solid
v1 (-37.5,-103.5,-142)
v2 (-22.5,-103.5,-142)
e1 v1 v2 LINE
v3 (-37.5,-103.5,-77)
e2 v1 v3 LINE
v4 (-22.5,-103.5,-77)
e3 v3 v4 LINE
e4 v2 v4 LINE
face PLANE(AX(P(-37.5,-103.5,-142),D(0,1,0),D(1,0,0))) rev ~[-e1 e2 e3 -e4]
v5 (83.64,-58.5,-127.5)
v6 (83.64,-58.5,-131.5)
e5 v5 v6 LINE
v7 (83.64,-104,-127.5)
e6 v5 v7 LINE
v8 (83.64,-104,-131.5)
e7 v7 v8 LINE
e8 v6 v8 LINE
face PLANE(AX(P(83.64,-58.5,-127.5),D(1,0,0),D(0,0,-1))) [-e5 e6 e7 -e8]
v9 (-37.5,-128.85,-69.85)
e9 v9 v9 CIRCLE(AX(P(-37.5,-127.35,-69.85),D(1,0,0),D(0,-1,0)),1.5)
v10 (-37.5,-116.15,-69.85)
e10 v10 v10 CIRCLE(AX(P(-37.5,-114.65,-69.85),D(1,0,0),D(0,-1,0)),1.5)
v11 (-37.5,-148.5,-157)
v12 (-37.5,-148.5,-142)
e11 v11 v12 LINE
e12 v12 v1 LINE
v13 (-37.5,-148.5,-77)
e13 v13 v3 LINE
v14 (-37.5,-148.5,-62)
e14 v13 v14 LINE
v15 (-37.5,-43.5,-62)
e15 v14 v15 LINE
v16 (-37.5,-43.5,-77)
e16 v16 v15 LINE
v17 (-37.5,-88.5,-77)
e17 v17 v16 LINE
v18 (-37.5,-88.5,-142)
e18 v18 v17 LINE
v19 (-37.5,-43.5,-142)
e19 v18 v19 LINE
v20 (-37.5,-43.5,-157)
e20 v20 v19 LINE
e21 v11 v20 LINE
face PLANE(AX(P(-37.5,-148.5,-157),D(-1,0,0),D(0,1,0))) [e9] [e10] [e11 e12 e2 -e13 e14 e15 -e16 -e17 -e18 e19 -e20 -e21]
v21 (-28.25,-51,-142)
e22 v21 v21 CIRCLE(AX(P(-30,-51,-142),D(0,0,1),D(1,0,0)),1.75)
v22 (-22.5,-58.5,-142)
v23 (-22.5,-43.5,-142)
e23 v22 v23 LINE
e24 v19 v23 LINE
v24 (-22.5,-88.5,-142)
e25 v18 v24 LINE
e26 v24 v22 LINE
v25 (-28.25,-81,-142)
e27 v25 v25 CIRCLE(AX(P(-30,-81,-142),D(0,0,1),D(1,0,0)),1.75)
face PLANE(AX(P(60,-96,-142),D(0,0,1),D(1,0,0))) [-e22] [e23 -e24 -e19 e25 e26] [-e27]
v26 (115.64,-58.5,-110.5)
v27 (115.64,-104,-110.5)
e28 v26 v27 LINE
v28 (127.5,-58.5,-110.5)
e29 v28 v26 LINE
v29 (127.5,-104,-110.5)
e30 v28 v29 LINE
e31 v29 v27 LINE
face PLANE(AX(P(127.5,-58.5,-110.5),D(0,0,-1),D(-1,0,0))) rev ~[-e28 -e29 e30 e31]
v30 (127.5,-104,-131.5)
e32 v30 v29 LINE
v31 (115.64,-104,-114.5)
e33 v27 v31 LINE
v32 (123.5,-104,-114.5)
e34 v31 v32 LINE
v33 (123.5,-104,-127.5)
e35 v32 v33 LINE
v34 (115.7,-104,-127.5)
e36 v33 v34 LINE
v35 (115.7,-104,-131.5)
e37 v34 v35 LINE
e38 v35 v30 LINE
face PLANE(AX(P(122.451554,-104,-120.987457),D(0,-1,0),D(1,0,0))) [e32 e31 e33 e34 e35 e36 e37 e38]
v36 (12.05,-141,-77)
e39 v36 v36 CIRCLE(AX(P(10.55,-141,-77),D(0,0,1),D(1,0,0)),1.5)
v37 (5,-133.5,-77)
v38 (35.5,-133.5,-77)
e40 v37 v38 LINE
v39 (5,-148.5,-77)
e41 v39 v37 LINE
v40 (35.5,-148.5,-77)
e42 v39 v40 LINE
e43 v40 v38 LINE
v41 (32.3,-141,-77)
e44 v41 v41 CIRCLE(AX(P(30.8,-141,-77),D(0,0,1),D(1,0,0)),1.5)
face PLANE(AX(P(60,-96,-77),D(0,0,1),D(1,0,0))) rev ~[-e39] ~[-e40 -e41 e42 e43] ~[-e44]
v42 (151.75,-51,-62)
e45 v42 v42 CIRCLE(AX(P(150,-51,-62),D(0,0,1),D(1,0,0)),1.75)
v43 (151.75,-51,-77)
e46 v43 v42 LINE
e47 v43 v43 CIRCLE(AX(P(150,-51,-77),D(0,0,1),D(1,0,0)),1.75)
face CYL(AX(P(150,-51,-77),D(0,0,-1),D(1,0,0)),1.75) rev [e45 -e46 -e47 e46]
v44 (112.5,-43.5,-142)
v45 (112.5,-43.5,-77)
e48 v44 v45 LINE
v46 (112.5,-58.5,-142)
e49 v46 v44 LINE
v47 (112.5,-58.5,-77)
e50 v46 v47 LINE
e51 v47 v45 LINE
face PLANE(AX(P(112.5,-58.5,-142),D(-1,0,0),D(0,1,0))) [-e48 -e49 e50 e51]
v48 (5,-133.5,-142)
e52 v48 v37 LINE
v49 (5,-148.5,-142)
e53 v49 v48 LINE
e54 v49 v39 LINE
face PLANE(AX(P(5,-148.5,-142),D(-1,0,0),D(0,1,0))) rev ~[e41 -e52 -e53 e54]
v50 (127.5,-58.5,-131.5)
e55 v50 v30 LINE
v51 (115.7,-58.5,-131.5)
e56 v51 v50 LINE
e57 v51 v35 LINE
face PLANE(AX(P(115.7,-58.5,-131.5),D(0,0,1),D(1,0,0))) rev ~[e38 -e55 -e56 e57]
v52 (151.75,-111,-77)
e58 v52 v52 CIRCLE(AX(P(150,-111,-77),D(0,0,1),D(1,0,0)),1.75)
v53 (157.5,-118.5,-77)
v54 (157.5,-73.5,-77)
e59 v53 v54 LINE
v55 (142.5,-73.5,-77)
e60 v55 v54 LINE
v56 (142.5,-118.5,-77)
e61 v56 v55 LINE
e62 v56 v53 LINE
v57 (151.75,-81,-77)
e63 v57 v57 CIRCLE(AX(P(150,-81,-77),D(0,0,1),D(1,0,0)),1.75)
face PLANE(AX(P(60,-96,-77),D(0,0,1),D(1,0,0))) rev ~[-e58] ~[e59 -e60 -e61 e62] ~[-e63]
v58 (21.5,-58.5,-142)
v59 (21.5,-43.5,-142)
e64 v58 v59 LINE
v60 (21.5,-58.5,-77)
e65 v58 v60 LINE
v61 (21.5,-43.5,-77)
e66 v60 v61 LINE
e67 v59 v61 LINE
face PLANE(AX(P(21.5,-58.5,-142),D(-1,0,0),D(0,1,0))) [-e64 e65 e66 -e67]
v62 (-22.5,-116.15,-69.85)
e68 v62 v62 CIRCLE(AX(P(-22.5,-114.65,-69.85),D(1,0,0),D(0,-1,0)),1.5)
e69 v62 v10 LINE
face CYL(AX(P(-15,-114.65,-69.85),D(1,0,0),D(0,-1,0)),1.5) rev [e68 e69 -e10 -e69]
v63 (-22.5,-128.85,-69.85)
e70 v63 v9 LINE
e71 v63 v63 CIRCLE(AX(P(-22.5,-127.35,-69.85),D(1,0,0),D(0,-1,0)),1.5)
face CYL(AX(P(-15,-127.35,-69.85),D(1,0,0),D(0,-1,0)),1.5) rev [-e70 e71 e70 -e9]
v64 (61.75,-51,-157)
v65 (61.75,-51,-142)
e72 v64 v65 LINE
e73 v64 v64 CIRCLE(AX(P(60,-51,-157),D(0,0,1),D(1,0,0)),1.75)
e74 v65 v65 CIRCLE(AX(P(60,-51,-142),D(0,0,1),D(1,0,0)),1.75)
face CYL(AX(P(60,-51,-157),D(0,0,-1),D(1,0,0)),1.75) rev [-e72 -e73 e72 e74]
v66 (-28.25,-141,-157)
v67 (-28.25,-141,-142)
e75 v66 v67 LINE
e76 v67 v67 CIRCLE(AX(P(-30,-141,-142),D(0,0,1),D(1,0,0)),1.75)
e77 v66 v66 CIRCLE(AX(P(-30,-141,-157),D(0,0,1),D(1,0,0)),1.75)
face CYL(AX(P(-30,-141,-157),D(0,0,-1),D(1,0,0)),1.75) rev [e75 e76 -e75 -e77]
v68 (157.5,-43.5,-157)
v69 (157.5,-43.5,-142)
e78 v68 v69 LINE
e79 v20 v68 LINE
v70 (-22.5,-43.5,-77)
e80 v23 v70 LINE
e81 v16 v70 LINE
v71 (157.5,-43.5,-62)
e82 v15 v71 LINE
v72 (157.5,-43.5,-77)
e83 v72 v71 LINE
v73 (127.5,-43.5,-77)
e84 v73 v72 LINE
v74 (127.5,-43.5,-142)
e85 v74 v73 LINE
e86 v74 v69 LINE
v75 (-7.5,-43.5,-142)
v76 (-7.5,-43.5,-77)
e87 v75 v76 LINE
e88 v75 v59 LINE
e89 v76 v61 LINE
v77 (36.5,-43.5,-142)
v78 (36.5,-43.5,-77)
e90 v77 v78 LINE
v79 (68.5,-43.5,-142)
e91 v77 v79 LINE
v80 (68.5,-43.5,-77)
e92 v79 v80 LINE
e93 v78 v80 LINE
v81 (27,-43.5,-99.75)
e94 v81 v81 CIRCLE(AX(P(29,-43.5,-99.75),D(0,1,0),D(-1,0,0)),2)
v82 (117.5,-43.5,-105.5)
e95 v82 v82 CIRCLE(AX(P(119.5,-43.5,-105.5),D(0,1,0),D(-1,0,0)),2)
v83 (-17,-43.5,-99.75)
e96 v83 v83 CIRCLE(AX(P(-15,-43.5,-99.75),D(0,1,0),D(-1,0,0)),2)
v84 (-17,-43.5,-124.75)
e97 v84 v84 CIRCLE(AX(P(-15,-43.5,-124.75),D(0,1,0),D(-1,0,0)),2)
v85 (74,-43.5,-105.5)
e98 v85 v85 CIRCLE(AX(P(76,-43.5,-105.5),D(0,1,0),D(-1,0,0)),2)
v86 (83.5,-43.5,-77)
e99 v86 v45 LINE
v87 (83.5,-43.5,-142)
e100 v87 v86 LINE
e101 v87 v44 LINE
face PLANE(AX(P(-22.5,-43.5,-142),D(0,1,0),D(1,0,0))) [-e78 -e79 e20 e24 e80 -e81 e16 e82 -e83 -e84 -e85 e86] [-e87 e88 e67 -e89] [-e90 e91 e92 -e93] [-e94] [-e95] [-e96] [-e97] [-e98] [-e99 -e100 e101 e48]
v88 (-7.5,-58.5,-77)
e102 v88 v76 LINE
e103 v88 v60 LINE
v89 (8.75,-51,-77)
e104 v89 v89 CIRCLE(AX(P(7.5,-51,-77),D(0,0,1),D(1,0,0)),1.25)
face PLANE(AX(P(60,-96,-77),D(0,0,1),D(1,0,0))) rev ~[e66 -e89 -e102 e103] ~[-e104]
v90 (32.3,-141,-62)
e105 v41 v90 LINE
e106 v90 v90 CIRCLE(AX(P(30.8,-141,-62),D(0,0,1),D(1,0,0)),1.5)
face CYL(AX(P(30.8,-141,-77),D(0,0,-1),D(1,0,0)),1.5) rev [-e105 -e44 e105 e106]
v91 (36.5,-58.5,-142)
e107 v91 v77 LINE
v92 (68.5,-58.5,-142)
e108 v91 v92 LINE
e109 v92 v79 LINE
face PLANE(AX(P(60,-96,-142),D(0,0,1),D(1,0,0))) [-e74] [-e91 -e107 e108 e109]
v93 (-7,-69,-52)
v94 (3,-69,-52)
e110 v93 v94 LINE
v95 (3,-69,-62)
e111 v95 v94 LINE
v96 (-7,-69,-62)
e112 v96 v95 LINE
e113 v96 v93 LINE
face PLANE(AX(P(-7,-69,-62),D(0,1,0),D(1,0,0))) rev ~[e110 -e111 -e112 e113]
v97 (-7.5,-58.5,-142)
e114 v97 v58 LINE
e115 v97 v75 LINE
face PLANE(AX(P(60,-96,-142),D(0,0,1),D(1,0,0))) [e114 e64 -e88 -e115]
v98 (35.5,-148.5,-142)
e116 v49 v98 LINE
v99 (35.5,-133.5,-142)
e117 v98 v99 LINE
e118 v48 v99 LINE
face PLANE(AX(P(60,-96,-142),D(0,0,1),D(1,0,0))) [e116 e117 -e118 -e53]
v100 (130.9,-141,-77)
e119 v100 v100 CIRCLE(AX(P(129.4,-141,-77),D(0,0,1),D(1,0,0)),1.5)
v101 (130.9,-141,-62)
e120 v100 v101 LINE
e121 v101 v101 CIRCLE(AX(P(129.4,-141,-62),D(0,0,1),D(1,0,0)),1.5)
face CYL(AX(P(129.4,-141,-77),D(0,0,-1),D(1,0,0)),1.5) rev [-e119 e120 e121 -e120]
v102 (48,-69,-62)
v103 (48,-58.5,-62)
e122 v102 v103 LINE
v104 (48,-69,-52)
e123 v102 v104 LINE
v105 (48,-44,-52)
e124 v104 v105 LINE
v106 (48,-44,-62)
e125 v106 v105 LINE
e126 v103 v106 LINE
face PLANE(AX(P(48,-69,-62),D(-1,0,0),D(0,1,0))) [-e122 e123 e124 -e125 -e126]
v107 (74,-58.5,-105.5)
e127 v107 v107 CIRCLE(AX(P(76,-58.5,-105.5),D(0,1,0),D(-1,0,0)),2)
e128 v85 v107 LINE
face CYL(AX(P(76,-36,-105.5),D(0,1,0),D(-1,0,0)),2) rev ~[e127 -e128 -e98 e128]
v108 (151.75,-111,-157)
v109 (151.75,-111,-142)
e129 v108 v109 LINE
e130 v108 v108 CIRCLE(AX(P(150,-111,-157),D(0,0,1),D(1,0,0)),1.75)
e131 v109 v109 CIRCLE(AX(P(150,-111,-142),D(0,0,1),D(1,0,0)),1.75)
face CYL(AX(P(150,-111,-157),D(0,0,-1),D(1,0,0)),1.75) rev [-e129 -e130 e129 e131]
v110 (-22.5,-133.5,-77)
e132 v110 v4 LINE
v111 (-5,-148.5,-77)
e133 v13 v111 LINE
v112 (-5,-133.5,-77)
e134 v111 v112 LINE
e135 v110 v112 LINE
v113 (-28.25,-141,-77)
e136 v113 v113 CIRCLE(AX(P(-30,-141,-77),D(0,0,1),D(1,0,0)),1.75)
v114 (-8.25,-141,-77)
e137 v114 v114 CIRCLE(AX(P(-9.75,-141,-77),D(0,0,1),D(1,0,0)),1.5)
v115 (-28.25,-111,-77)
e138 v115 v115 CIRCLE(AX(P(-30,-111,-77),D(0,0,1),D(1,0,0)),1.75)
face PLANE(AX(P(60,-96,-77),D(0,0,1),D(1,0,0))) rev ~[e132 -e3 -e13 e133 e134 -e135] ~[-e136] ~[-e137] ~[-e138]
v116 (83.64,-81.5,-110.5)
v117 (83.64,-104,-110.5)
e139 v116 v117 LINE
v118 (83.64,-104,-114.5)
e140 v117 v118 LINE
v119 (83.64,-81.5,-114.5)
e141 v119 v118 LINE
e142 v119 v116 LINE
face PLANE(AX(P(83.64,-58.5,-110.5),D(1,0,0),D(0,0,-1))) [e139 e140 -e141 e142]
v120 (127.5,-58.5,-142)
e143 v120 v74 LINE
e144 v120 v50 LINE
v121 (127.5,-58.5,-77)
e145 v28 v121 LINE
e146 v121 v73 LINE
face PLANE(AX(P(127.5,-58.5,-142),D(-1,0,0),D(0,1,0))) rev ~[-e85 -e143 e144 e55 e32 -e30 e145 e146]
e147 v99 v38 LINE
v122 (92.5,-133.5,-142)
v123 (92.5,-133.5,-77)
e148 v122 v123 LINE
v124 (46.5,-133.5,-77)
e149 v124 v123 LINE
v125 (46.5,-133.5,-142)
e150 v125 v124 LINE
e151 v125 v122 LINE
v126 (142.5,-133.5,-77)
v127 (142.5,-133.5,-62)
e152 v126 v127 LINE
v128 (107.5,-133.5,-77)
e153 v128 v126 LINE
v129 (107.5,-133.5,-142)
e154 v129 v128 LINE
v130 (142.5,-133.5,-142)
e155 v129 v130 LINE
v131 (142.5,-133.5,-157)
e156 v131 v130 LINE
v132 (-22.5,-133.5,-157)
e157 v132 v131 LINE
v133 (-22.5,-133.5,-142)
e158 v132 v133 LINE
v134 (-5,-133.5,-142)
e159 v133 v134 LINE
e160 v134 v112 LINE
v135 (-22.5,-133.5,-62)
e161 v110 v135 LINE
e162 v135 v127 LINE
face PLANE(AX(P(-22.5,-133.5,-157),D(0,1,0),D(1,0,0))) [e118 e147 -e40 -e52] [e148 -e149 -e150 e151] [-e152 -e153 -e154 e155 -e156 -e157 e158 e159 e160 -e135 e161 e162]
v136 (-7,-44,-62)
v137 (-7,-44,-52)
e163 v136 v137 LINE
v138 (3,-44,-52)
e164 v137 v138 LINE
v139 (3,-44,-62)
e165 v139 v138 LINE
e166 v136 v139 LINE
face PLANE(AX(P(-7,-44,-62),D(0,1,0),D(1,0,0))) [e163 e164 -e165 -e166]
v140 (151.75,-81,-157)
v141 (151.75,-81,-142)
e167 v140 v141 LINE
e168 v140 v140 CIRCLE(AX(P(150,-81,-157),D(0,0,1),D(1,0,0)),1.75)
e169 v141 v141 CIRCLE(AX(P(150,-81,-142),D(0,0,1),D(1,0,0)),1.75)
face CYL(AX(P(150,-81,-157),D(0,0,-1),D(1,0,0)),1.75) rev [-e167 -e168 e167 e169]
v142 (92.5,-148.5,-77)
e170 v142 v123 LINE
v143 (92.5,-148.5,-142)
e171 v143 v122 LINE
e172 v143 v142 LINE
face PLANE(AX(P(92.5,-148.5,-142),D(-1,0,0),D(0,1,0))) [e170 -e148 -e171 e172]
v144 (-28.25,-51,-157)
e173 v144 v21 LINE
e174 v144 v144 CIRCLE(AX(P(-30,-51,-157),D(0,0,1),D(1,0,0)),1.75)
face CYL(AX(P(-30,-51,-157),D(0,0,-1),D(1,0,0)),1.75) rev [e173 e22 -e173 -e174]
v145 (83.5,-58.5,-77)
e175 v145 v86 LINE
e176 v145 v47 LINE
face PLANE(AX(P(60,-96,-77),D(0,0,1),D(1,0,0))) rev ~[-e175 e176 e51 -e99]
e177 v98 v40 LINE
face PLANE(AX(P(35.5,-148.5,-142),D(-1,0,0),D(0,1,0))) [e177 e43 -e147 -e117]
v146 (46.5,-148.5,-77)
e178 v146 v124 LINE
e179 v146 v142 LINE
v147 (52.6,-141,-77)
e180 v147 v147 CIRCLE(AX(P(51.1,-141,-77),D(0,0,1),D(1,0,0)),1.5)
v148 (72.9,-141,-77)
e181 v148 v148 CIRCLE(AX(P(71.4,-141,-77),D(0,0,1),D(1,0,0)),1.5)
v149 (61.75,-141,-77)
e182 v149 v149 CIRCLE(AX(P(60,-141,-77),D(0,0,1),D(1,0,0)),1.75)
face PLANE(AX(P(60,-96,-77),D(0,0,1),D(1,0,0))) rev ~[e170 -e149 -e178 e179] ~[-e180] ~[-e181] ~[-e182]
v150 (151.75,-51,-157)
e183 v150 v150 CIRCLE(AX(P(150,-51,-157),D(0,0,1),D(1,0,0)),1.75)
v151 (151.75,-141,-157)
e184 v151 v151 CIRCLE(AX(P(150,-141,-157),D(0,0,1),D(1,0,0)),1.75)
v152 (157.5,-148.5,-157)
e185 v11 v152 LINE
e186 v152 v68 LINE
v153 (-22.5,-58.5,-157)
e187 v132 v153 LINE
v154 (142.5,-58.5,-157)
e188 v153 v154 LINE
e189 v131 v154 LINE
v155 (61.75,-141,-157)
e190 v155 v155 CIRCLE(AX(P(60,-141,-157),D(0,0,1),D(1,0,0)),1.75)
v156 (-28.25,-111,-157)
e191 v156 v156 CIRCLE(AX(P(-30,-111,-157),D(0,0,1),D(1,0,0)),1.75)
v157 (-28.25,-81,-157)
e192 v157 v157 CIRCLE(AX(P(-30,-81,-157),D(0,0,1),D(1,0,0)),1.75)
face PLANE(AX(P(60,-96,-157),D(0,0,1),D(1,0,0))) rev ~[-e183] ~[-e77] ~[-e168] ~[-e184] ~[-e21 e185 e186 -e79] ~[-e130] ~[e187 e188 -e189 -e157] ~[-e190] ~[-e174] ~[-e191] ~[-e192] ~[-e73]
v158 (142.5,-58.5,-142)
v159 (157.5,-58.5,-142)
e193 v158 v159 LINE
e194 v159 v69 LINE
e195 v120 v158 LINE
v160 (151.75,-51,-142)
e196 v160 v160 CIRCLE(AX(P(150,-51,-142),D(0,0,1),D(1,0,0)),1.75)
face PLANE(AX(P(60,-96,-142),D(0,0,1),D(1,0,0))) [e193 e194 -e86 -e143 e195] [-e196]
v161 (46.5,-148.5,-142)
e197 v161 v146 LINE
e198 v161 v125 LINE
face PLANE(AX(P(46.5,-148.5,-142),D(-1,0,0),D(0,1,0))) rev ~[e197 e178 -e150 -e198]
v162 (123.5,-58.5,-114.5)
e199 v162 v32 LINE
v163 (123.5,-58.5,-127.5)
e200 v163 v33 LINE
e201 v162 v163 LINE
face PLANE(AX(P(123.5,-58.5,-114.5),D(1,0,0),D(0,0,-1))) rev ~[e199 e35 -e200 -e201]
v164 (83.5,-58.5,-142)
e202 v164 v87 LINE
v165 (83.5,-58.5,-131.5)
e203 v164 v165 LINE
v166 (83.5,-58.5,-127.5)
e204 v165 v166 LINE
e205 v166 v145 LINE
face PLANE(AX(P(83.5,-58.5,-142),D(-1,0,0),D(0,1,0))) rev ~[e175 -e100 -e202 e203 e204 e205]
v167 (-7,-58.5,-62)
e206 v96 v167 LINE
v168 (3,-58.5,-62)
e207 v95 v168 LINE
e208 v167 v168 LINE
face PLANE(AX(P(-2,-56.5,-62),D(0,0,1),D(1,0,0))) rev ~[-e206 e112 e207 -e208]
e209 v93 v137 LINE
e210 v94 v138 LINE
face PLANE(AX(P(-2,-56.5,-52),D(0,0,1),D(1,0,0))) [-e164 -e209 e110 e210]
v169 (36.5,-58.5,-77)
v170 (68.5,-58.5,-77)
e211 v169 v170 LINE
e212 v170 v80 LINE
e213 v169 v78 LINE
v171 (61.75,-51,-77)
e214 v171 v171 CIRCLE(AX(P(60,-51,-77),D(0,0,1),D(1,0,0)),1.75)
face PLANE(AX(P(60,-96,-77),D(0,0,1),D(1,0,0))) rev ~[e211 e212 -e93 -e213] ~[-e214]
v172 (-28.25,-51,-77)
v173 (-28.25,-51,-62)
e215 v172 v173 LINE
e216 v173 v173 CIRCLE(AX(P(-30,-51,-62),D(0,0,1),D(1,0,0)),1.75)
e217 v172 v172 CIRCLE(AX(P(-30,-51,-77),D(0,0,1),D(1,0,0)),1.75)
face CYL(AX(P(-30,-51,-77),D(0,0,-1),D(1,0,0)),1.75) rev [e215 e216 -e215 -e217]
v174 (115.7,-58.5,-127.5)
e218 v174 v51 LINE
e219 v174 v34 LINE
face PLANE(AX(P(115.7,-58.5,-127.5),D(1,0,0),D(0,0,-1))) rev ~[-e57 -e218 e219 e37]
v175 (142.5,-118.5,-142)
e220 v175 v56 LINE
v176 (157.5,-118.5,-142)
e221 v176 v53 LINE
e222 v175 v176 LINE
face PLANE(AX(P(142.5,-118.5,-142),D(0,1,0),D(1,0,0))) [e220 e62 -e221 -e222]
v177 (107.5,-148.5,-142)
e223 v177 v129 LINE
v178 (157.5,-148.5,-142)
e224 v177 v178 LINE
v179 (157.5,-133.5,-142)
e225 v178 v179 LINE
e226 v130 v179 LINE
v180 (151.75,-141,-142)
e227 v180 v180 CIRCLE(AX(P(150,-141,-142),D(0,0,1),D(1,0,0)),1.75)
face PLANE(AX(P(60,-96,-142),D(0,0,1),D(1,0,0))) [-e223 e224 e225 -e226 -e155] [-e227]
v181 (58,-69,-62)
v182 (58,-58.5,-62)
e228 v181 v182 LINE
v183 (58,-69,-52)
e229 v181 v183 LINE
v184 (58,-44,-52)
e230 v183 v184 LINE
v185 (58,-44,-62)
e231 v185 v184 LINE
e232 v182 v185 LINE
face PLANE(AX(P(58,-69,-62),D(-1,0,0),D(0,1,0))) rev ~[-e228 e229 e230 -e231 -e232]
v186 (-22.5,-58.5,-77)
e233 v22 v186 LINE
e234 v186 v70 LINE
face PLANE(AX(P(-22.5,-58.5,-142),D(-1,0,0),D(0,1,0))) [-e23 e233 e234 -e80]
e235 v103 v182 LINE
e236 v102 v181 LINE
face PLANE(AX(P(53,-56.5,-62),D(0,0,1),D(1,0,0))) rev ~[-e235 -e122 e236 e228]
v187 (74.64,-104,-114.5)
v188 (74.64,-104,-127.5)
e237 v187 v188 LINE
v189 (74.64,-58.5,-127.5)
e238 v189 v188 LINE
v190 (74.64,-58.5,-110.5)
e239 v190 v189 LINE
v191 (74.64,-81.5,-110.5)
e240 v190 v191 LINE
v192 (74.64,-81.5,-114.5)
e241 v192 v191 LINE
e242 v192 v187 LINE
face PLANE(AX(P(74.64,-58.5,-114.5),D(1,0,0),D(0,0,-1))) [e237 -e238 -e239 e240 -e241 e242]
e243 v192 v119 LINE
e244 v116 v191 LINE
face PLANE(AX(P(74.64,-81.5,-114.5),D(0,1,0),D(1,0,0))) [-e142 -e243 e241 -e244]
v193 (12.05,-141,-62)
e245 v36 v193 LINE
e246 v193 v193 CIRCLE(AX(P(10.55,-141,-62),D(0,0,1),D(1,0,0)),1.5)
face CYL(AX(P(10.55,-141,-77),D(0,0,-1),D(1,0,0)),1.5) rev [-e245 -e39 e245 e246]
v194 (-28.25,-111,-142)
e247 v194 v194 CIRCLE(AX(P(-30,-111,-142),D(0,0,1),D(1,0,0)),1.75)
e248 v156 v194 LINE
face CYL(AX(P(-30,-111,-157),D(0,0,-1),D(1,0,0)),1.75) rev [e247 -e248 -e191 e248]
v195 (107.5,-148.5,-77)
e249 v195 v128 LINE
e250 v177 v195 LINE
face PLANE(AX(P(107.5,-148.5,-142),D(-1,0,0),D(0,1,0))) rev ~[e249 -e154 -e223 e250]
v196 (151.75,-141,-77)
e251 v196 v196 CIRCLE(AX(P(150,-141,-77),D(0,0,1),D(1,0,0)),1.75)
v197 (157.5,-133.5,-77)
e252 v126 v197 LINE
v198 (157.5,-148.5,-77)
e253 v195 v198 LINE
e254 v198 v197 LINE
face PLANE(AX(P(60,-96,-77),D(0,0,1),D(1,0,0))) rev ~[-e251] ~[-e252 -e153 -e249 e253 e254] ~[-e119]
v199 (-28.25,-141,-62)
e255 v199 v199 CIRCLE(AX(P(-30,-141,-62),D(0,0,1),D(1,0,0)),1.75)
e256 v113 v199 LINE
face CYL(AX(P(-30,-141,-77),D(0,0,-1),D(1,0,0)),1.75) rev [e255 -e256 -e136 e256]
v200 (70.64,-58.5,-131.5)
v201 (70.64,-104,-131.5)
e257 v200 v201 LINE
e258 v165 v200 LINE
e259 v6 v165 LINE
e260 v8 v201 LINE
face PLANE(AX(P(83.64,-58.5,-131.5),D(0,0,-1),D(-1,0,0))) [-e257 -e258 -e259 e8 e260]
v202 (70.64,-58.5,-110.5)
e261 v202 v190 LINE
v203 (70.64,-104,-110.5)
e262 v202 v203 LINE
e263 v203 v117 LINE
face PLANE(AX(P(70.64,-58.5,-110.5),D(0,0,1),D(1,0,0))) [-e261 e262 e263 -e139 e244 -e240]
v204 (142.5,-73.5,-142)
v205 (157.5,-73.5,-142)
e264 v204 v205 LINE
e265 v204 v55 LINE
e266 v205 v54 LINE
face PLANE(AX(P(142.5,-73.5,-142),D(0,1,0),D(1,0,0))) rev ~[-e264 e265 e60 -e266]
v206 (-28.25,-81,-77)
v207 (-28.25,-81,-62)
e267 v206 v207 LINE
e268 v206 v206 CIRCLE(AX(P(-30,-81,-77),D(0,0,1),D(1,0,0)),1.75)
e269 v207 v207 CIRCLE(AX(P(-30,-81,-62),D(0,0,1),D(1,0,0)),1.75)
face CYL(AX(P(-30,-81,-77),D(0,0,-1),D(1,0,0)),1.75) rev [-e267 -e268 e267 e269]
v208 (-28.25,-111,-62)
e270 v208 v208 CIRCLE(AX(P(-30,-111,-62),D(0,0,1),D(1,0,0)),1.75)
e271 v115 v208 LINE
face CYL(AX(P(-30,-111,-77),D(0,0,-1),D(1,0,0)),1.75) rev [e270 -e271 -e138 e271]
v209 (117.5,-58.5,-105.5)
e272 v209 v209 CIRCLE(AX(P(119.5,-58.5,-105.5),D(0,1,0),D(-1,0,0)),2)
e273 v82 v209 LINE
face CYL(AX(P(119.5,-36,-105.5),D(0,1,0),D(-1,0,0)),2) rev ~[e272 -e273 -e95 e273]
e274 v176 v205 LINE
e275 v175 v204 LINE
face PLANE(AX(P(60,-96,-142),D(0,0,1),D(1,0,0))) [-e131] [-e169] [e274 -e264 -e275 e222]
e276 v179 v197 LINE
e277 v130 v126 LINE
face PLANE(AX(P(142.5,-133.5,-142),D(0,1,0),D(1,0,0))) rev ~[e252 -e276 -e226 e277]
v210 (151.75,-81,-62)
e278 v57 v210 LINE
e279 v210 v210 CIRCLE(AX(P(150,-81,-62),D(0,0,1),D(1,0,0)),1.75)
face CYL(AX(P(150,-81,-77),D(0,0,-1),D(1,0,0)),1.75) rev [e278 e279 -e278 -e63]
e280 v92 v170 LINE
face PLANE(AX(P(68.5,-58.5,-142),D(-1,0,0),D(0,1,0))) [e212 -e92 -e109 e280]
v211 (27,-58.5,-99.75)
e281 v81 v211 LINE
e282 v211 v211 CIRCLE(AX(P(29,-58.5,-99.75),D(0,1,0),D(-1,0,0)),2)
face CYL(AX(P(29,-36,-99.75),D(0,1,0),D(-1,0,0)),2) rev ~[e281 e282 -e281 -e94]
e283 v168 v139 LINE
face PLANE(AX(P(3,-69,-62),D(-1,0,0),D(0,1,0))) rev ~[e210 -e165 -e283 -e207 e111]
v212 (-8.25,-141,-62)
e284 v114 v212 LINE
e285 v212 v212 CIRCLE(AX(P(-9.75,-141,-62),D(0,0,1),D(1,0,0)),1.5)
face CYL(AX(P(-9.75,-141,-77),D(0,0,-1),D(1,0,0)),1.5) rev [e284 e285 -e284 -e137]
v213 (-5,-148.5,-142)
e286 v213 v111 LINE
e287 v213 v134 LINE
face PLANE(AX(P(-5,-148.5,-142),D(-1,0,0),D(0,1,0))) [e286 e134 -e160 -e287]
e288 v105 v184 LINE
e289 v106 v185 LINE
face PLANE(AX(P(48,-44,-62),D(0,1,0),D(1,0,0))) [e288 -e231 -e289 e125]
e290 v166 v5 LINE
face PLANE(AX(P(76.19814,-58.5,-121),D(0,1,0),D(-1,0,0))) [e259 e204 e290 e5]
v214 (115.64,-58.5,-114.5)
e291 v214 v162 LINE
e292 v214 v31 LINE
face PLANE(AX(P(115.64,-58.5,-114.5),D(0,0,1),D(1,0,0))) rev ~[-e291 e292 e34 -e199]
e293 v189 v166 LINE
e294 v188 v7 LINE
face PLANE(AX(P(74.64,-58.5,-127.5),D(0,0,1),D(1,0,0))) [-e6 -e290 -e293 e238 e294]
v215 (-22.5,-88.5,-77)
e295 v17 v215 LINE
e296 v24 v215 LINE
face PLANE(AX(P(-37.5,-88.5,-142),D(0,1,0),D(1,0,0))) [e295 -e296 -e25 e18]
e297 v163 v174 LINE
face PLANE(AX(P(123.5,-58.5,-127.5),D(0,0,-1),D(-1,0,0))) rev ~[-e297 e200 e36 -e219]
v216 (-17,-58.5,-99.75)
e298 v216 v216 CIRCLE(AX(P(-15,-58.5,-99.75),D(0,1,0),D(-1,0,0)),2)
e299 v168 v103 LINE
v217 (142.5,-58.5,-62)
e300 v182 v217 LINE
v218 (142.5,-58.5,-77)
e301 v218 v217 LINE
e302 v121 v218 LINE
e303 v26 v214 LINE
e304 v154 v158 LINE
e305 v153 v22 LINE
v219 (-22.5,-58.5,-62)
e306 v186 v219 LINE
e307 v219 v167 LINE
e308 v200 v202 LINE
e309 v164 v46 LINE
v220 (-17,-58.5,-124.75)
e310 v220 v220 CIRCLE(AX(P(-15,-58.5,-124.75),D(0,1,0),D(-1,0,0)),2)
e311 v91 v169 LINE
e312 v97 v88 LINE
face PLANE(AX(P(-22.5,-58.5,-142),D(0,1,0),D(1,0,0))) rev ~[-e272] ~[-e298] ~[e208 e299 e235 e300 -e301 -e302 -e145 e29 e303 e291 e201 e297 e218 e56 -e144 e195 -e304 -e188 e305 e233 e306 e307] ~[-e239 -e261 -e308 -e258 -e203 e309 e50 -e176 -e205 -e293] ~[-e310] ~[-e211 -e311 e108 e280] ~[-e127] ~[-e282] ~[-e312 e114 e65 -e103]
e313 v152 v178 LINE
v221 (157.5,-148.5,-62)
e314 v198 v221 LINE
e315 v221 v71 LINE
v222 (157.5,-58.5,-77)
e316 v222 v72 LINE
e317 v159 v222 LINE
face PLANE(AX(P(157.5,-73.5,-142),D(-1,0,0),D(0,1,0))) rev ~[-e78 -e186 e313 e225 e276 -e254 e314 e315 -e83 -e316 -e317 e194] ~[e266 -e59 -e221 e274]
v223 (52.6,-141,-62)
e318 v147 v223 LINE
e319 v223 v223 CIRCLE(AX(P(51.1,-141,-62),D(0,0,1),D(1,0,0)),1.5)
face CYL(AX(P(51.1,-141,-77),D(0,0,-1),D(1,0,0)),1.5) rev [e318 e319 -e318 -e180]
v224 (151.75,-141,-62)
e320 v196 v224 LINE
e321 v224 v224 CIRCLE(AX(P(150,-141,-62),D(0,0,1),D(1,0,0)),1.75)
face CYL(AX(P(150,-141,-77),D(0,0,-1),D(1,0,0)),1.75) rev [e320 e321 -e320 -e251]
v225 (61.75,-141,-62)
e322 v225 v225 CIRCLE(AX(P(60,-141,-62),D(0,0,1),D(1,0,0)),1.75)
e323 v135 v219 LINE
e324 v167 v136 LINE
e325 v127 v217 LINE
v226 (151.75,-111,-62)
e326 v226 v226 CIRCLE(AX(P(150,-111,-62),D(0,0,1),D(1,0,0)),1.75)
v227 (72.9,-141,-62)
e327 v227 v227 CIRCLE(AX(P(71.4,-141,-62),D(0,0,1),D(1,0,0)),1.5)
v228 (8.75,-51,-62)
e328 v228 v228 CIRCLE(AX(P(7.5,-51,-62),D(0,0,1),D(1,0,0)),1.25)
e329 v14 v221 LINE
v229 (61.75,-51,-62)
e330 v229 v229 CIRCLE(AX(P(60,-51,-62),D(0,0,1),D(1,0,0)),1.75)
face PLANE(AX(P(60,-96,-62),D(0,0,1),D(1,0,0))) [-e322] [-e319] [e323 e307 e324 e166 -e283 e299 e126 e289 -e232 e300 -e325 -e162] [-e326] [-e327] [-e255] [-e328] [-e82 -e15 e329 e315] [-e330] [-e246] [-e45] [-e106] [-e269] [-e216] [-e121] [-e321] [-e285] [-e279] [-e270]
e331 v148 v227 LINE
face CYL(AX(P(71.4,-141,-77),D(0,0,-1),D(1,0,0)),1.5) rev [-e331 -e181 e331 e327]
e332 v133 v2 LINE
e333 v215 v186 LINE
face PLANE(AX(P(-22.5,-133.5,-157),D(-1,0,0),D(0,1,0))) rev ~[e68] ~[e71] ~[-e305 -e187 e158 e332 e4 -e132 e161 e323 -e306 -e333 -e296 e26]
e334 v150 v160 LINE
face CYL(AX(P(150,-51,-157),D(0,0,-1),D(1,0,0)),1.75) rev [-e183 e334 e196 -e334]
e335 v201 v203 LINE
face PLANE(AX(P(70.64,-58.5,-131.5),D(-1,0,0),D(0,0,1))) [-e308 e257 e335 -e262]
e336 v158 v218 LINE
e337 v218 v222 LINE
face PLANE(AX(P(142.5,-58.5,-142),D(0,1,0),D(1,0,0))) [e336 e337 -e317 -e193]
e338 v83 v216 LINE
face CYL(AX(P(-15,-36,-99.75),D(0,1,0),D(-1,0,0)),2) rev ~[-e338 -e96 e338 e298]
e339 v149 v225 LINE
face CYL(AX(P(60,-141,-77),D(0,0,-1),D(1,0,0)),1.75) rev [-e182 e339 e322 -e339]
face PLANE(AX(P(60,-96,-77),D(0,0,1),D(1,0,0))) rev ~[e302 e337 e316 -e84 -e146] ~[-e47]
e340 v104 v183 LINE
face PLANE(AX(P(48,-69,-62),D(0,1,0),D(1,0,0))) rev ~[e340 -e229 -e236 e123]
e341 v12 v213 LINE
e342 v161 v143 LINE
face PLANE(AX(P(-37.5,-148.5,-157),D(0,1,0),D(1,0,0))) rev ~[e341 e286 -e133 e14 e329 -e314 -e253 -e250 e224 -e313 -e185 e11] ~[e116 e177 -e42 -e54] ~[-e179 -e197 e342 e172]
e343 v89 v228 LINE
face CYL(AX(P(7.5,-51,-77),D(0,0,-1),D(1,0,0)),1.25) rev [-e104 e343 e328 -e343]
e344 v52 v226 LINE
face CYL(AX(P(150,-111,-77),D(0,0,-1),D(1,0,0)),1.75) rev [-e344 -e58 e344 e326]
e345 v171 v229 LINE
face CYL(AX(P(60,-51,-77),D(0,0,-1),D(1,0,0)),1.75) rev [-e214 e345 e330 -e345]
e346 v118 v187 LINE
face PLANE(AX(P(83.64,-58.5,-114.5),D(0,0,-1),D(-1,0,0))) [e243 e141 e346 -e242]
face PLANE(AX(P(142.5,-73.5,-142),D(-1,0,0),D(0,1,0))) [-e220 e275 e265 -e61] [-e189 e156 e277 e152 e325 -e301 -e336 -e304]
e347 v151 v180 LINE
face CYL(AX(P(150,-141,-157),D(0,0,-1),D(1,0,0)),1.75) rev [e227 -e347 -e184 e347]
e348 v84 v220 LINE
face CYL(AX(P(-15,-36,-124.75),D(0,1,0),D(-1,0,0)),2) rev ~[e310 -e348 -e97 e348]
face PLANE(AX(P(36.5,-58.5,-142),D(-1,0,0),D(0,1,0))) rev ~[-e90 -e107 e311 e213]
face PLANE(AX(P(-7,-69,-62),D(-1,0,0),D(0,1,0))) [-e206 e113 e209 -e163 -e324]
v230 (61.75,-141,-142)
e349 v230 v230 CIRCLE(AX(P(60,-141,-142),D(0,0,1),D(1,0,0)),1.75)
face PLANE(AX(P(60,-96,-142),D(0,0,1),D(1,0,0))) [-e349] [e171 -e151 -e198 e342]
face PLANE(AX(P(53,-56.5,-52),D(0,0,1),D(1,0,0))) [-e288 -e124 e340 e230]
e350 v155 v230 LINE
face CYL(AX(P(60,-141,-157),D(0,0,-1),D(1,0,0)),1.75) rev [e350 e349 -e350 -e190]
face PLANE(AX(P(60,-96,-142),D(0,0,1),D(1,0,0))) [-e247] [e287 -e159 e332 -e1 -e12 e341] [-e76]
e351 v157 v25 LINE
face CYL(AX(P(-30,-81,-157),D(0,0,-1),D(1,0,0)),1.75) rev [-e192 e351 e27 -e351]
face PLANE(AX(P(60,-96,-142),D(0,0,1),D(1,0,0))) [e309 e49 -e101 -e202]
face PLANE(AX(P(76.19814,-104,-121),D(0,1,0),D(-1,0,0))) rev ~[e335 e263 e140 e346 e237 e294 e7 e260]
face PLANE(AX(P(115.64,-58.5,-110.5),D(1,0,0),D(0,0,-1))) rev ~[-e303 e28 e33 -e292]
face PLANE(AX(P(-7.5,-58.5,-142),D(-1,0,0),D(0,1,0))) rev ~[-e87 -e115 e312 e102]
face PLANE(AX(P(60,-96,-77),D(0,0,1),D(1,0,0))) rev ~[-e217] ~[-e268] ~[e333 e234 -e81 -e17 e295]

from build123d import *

# Parameters (mm, degrees)
BOX229_W         = 10
BOX229_H         = 25
BOX229_DEPTH     = 10
BOX228_W         = 10
BOX228_H         = 25
BOX228_DEPTH     = 10
SKETCH009_W      = 195
SKETCH009_H      = 105
SKETCH009_R      = 1.75
SKETCH009_W_2    = 165
SKETCH009_H_2    = 75
EXTRUDE009_DEPTH = 15
BOX223_W         = 11
BOX223_H         = 15
BOX223_DEPTH     = 65
BOX224_W         = 15
BOX224_H         = 15
BOX224_DEPTH     = 65
BOX225_W         = 15
BOX225_H         = 15
BOX225_DEPTH     = 65
BOX226_W         = 15
BOX226_H         = 15
BOX226_DEPTH     = 65
BOX227_W         = 15
BOX227_H         = 15
BOX227_DEPTH     = 65
BOX222_W         = 10
BOX222_H         = 15
BOX222_DEPTH     = 65
SKETCH013_R      = 2
EXTRUDE013_DEPTH = 30
BOX217_W         = 15
BOX217_H         = 15
BOX217_DEPTH     = 65
BOX218_W         = 15
BOX218_H         = 15
BOX218_DEPTH     = 65
BOX220_W         = 15
BOX220_H         = 15
BOX220_DEPTH     = 65
BOX216_W         = 15
BOX216_H         = 15
BOX216_DEPTH     = 65
BOX221_W         = 10
BOX221_H         = 23
BOX221_DEPTH     = 10
EXTRUDE012_DEPTH = 45.5
SKETCH014_R      = 1.5
EXTRUDE014_DEPTH = 30
SKETCH010_W      = 195
SKETCH010_H      = 105
SKETCH010_R      = 1.75
SKETCH010_R_2    = 1.25
SKETCH010_R_3    = 1.5
SKETCH010_W_2    = 165
SKETCH010_H_2    = 75
EXTRUDE010_DEPTH = 15


with BuildPart() as cube229:
    # Box229 → Box229 (new body)
    with BuildSketch(Plane(origin=(48, -69, 0), x_dir=(1, 0, 0), z_dir=(0, 0, 1))):
        with Locations((5, 12.5)):
            Rectangle(BOX229_W, BOX229_H)
    extrude(amount=BOX229_DEPTH)


with BuildPart() as ips_hold:
    # Box228 → Box228 (new body)
    with BuildSketch(Plane(origin=(-7, -69, 0), x_dir=(1, 0, 0), z_dir=(0, 0, 1))):
        with Locations((5, 12.5)):
            Rectangle(BOX228_W, BOX228_H)
    extrude(amount=BOX228_DEPTH)

    # Fusion132: union Cube229
    add(cube229.part)


with BuildPart() as ips_hold_1:
    # Fusion132 placement: moved
    add(ips_hold.part.moved(Location((0, 0, -62))))


with BuildPart() as sensor_base:
    # Sketch009 → Extrude009 (new body)
    with BuildSketch(Plane.XY):
        with Locations((60, -96)):
            Rectangle(SKETCH009_W, SKETCH009_H)
        with Locations((-30, -51)):
            Circle(SKETCH009_R, mode=Mode.SUBTRACT)
        with Locations((-30, -81)):
            Circle(SKETCH009_R, mode=Mode.SUBTRACT)
        with Locations((-30, -111)):
            Circle(SKETCH009_R, mode=Mode.SUBTRACT)
        with Locations((-30, -141)):
            Circle(SKETCH009_R, mode=Mode.SUBTRACT)
        with Locations((60, -141)):
            Circle(SKETCH009_R, mode=Mode.SUBTRACT)
        with Locations((150, -141)):
            Circle(SKETCH009_R, mode=Mode.SUBTRACT)
        with Locations((150, -111)):
            Circle(SKETCH009_R, mode=Mode.SUBTRACT)
        with Locations((150, -81)):
            Circle(SKETCH009_R, mode=Mode.SUBTRACT)
        with Locations((150, -51)):
            Circle(SKETCH009_R, mode=Mode.SUBTRACT)
        with Locations((60, -51)):
            Circle(SKETCH009_R, mode=Mode.SUBTRACT)
        with Locations((60, -96)):
            Rectangle(SKETCH009_W_2, SKETCH009_H_2, mode=Mode.SUBTRACT)
    extrude(amount=EXTRUDE009_DEPTH)


with BuildPart() as sensor_base_1:
    # Extrude009 placement: moved
    add(sensor_base.part.moved(Location((0, 0, -157))))


with BuildPart() as cube223:
    # Box223 → Box223 (new body)
    with BuildSketch(Plane(origin=(36, 0, -142), x_dir=(1, 0, 0), z_dir=(0, 0, 1))):
        with Locations((5.5, 7.5)):
            Rectangle(BOX223_W, BOX223_H)
    extrude(amount=BOX223_DEPTH)


with BuildPart() as cube224:
    # Box224 → Box224 (new body)
    with BuildSketch(Plane(origin=(93, 0, -142), x_dir=(1, 0, 0), z_dir=(0, 0, 1))):
        with Locations((7.5, 7.5)):
            Rectangle(BOX224_W, BOX224_H)
    extrude(amount=BOX224_DEPTH)


with BuildPart() as cube225:
    # Box225 → Box225 (new body)
    with BuildSketch(Plane(origin=(143, 15, -142), x_dir=(1, 0, 0), z_dir=(0, 0, 1))):
        with Locations((7.5, 7.5)):
            Rectangle(BOX225_W, BOX225_H)
    extrude(amount=BOX225_DEPTH)


with BuildPart() as cube226:
    # Box226 → Box226 (new body)
    with BuildSketch(Plane(origin=(-37, 45, -142), x_dir=(1, 0, 0), z_dir=(0, 0, 1))):
        with Locations((7.5, 7.5)):
            Rectangle(BOX226_W, BOX226_H)
    extrude(amount=BOX226_DEPTH)


with BuildPart() as cube227:
    # Box227 → Box227 (new body)
    with BuildSketch(Plane(origin=(143, 75, -142), x_dir=(1, 0, 0), z_dir=(0, 0, 1))):
        with Locations((7.5, 7.5)):
            Rectangle(BOX227_W, BOX227_H)
    extrude(amount=BOX227_DEPTH)


with BuildPart() as vertical_back:
    # Box222 → Box222 (new body)
    with BuildSketch(Plane(origin=(-4.5, 0, -142), x_dir=(1, 0, 0), z_dir=(0, 0, 1))):
        with Locations((5, 7.5)):
            Rectangle(BOX222_W, BOX222_H)
    extrude(amount=BOX222_DEPTH)

    # Fusion130: union Cube223, Cube224, Cube225, Cube226, Cube227
    add(cube223.part)
    add(cube224.part)
    add(cube225.part)
    add(cube226.part)
    add(cube227.part)


with BuildPart() as vertical_back_1:
    # Fusion130 placement: moved
    add(vertical_back.part.moved(Location((-0.5, -148.5, 0))))


with BuildPart() as screw_cut_vertiical:
    # Sketch013 → Extrude013 (new body)
    with BuildSketch(Plane(origin=(0, 0, 0), x_dir=(-1, 0, 0), z_dir=(0, 1, 0))):
        with Locations((-29, -99.75)):
            Circle(SKETCH013_R)
        with Locations((15, -99.75)):
            Circle(SKETCH013_R)
        with Locations((15, -124.75)):
            Circle(SKETCH013_R)
        with Locations((-76, -105.5)):
            Circle(SKETCH013_R)
        with Locations((-119.5, -105.5)):
            Circle(SKETCH013_R)
        with Locations((-97.75, -67.827895)):
            Circle(SKETCH013_R)
    extrude(amount=-EXTRUDE013_DEPTH)


with BuildPart() as screw_cut_vertiical_1:
    # Extrude013 placement: moved
    add(screw_cut_vertiical.part.moved(Location((0, -36, 0))))


with BuildPart() as cube217:
    # Box217 → Box217 (new body)
    with BuildSketch(Plane(origin=(22, 0, -142), x_dir=(1, 0, 0), z_dir=(0, 0, 1))):
        with Locations((7.5, 7.5)):
            Rectangle(BOX217_W, BOX217_H)
    extrude(amount=BOX217_DEPTH)


with BuildPart() as cube218:
    # Box218 → Box218 (new body)
    with BuildSketch(Plane(origin=(69, 0, -142), x_dir=(1, 0, 0), z_dir=(0, 0, 1))):
        with Locations((7.5, 7.5)):
            Rectangle(BOX218_W, BOX218_H)
    extrude(amount=BOX218_DEPTH)


with BuildPart() as cube220:
    # Box220 → Box220 (new body)
    with BuildSketch(Plane(origin=(113, 0, -142), x_dir=(1, 0, 0), z_dir=(0, 0, 1))):
        with Locations((7.5, 7.5)):
            Rectangle(BOX220_W, BOX220_H)
    extrude(amount=BOX220_DEPTH)


with BuildPart() as cut017:
    # Box216 → Box216 (new body)
    with BuildSketch(Plane(origin=(-22, 0, -142), x_dir=(1, 0, 0), z_dir=(0, 0, 1))):
        with Locations((7.5, 7.5)):
            Rectangle(BOX216_W, BOX216_H)
    extrude(amount=BOX216_DEPTH)

    # Fusion129: union Cube217, Cube218, Cube220
    add(cube217.part)
    add(cube218.part)
    add(cube220.part)


with BuildPart() as cut017_1:
    # Fusion129 placement: moved
    add(cut017.part.moved(Location((-0.5, -58.5, 0))))

    # Cut017: cut screw_cut_vertiical
    add(screw_cut_vertiical_1.part, mode=Mode.SUBTRACT)


with BuildPart() as cube221:
    # Box221 → Box221 (new body)
    with BuildSketch(Plane(origin=(27.5, -21, -114.5), x_dir=(1, 0, 0), z_dir=(0, 0, 1))):
        with Locations((5, 11.5)):
            Rectangle(BOX221_W, BOX221_H)
    extrude(amount=BOX221_DEPTH)


with BuildPart() as cut016:
    # Sketch012 → Extrude012 (new body)
    with BuildSketch(Plane(origin=(0, 0, 0), x_dir=(-1, 0, 0), z_dir=(0, 1, 0))):
        Polygon((-80.36, -110.5), (-68.5, -110.5), (-68.5, -114.5), (-76.36, -114.5), (-76.36, -127.5), (-68.56, -127.5), (-68.56, -131.5), (-80.36, -131.5), align=None)
        Polygon((-36.5, -127.5), (-36.5, -131.5), (-23.5, -131.5), (-23.5, -110.5), (-36.5, -110.5), (-36.5, -114.5), (-27.5, -114.5), (-27.5, -127.5), align=None)
    extrude(amount=-EXTRUDE012_DEPTH)


with BuildPart() as cut016_1:
    # Extrude012 placement: moved
    add(cut016.part.moved(Location((0, 2, 0))))

    # Cut016: cut Cube221
    add(cube221.part, mode=Mode.SUBTRACT)


with BuildPart() as cut016_2:
    # Cut016 placement: moved
    add(cut016_1.part.moved(Location((47.14, -60.5, 0))))


with BuildPart() as extrude014:
    # Sketch014 → Extrude014 (new body)
    with BuildSketch(Plane(origin=(0, 0, 0), x_dir=(0, -1, 0), z_dir=(-1, 0, 0))):
        with Locations((114.65, -69.85)):
            Circle(SKETCH014_R)
        with Locations((127.35, -69.85)):
            Circle(SKETCH014_R)
    extrude(amount=EXTRUDE014_DEPTH)


with BuildPart() as extrude014_1:
    # Extrude014 placement: moved
    add(extrude014.part.moved(Location((-15, 0, 0))))


with BuildPart() as sensor_hold:
    # Sketch010 → Extrude010 (new body)
    with BuildSketch(Plane.XY):
        with Locations((60, -96)):
            Rectangle(SKETCH010_W, SKETCH010_H)
        with Locations((-30, -51)):
            Circle(SKETCH010_R, mode=Mode.SUBTRACT)
        with Locations((-30, -81)):
            Circle(SKETCH010_R, mode=Mode.SUBTRACT)
        with Locations((-30, -111)):
            Circle(SKETCH010_R, mode=Mode.SUBTRACT)
        with Locations((-30, -141)):
            Circle(SKETCH010_R, mode=Mode.SUBTRACT)
        with Locations((60, -141)):
            Circle(SKETCH010_R, mode=Mode.SUBTRACT)
        with Locations((150, -141)):
            Circle(SKETCH010_R, mode=Mode.SUBTRACT)
        with Locations((150, -111)):
            Circle(SKETCH010_R, mode=Mode.SUBTRACT)
        with Locations((150, -81)):
            Circle(SKETCH010_R, mode=Mode.SUBTRACT)
        with Locations((150, -51)):
            Circle(SKETCH010_R, mode=Mode.SUBTRACT)
        with Locations((60, -51)):
            Circle(SKETCH010_R, mode=Mode.SUBTRACT)
        with Locations((7.5, -51)):
            Circle(SKETCH010_R_2, mode=Mode.SUBTRACT)
        with Locations((-9.75, -141)):
            Circle(SKETCH010_R_3, mode=Mode.SUBTRACT)
        with Locations((10.55, -141)):
            Circle(SKETCH010_R_3, mode=Mode.SUBTRACT)
        with Locations((30.8, -141)):
            Circle(SKETCH010_R_3, mode=Mode.SUBTRACT)
        with Locations((51.1, -141)):
            Circle(SKETCH010_R_3, mode=Mode.SUBTRACT)
        with Locations((71.4, -141)):
            Circle(SKETCH010_R_3, mode=Mode.SUBTRACT)
        with Locations((129.4, -141)):
            Circle(SKETCH010_R_3, mode=Mode.SUBTRACT)
        with Locations((60, -96)):
            Rectangle(SKETCH010_W_2, SKETCH010_H_2, mode=Mode.SUBTRACT)
    extrude(amount=EXTRUDE010_DEPTH)


with BuildPart() as sensor_hold_1:
    # Extrude010 placement: moved
    add(sensor_hold.part.moved(Location((0, 0, -77))))

    # Cut018: cut Extrude014
    add(extrude014_1.part, mode=Mode.SUBTRACT)

    # Fusion131: union Sensor_base, Vertical_back, Cut017, Cut016
    add(sensor_base_1.part)
    add(vertical_back_1.part)
    add(cut017_1.part)
    add(cut016_2.part)

    # Fusion133: union ips_hold
    add(ips_hold_1.part)


solid = sensor_hold_1.part
